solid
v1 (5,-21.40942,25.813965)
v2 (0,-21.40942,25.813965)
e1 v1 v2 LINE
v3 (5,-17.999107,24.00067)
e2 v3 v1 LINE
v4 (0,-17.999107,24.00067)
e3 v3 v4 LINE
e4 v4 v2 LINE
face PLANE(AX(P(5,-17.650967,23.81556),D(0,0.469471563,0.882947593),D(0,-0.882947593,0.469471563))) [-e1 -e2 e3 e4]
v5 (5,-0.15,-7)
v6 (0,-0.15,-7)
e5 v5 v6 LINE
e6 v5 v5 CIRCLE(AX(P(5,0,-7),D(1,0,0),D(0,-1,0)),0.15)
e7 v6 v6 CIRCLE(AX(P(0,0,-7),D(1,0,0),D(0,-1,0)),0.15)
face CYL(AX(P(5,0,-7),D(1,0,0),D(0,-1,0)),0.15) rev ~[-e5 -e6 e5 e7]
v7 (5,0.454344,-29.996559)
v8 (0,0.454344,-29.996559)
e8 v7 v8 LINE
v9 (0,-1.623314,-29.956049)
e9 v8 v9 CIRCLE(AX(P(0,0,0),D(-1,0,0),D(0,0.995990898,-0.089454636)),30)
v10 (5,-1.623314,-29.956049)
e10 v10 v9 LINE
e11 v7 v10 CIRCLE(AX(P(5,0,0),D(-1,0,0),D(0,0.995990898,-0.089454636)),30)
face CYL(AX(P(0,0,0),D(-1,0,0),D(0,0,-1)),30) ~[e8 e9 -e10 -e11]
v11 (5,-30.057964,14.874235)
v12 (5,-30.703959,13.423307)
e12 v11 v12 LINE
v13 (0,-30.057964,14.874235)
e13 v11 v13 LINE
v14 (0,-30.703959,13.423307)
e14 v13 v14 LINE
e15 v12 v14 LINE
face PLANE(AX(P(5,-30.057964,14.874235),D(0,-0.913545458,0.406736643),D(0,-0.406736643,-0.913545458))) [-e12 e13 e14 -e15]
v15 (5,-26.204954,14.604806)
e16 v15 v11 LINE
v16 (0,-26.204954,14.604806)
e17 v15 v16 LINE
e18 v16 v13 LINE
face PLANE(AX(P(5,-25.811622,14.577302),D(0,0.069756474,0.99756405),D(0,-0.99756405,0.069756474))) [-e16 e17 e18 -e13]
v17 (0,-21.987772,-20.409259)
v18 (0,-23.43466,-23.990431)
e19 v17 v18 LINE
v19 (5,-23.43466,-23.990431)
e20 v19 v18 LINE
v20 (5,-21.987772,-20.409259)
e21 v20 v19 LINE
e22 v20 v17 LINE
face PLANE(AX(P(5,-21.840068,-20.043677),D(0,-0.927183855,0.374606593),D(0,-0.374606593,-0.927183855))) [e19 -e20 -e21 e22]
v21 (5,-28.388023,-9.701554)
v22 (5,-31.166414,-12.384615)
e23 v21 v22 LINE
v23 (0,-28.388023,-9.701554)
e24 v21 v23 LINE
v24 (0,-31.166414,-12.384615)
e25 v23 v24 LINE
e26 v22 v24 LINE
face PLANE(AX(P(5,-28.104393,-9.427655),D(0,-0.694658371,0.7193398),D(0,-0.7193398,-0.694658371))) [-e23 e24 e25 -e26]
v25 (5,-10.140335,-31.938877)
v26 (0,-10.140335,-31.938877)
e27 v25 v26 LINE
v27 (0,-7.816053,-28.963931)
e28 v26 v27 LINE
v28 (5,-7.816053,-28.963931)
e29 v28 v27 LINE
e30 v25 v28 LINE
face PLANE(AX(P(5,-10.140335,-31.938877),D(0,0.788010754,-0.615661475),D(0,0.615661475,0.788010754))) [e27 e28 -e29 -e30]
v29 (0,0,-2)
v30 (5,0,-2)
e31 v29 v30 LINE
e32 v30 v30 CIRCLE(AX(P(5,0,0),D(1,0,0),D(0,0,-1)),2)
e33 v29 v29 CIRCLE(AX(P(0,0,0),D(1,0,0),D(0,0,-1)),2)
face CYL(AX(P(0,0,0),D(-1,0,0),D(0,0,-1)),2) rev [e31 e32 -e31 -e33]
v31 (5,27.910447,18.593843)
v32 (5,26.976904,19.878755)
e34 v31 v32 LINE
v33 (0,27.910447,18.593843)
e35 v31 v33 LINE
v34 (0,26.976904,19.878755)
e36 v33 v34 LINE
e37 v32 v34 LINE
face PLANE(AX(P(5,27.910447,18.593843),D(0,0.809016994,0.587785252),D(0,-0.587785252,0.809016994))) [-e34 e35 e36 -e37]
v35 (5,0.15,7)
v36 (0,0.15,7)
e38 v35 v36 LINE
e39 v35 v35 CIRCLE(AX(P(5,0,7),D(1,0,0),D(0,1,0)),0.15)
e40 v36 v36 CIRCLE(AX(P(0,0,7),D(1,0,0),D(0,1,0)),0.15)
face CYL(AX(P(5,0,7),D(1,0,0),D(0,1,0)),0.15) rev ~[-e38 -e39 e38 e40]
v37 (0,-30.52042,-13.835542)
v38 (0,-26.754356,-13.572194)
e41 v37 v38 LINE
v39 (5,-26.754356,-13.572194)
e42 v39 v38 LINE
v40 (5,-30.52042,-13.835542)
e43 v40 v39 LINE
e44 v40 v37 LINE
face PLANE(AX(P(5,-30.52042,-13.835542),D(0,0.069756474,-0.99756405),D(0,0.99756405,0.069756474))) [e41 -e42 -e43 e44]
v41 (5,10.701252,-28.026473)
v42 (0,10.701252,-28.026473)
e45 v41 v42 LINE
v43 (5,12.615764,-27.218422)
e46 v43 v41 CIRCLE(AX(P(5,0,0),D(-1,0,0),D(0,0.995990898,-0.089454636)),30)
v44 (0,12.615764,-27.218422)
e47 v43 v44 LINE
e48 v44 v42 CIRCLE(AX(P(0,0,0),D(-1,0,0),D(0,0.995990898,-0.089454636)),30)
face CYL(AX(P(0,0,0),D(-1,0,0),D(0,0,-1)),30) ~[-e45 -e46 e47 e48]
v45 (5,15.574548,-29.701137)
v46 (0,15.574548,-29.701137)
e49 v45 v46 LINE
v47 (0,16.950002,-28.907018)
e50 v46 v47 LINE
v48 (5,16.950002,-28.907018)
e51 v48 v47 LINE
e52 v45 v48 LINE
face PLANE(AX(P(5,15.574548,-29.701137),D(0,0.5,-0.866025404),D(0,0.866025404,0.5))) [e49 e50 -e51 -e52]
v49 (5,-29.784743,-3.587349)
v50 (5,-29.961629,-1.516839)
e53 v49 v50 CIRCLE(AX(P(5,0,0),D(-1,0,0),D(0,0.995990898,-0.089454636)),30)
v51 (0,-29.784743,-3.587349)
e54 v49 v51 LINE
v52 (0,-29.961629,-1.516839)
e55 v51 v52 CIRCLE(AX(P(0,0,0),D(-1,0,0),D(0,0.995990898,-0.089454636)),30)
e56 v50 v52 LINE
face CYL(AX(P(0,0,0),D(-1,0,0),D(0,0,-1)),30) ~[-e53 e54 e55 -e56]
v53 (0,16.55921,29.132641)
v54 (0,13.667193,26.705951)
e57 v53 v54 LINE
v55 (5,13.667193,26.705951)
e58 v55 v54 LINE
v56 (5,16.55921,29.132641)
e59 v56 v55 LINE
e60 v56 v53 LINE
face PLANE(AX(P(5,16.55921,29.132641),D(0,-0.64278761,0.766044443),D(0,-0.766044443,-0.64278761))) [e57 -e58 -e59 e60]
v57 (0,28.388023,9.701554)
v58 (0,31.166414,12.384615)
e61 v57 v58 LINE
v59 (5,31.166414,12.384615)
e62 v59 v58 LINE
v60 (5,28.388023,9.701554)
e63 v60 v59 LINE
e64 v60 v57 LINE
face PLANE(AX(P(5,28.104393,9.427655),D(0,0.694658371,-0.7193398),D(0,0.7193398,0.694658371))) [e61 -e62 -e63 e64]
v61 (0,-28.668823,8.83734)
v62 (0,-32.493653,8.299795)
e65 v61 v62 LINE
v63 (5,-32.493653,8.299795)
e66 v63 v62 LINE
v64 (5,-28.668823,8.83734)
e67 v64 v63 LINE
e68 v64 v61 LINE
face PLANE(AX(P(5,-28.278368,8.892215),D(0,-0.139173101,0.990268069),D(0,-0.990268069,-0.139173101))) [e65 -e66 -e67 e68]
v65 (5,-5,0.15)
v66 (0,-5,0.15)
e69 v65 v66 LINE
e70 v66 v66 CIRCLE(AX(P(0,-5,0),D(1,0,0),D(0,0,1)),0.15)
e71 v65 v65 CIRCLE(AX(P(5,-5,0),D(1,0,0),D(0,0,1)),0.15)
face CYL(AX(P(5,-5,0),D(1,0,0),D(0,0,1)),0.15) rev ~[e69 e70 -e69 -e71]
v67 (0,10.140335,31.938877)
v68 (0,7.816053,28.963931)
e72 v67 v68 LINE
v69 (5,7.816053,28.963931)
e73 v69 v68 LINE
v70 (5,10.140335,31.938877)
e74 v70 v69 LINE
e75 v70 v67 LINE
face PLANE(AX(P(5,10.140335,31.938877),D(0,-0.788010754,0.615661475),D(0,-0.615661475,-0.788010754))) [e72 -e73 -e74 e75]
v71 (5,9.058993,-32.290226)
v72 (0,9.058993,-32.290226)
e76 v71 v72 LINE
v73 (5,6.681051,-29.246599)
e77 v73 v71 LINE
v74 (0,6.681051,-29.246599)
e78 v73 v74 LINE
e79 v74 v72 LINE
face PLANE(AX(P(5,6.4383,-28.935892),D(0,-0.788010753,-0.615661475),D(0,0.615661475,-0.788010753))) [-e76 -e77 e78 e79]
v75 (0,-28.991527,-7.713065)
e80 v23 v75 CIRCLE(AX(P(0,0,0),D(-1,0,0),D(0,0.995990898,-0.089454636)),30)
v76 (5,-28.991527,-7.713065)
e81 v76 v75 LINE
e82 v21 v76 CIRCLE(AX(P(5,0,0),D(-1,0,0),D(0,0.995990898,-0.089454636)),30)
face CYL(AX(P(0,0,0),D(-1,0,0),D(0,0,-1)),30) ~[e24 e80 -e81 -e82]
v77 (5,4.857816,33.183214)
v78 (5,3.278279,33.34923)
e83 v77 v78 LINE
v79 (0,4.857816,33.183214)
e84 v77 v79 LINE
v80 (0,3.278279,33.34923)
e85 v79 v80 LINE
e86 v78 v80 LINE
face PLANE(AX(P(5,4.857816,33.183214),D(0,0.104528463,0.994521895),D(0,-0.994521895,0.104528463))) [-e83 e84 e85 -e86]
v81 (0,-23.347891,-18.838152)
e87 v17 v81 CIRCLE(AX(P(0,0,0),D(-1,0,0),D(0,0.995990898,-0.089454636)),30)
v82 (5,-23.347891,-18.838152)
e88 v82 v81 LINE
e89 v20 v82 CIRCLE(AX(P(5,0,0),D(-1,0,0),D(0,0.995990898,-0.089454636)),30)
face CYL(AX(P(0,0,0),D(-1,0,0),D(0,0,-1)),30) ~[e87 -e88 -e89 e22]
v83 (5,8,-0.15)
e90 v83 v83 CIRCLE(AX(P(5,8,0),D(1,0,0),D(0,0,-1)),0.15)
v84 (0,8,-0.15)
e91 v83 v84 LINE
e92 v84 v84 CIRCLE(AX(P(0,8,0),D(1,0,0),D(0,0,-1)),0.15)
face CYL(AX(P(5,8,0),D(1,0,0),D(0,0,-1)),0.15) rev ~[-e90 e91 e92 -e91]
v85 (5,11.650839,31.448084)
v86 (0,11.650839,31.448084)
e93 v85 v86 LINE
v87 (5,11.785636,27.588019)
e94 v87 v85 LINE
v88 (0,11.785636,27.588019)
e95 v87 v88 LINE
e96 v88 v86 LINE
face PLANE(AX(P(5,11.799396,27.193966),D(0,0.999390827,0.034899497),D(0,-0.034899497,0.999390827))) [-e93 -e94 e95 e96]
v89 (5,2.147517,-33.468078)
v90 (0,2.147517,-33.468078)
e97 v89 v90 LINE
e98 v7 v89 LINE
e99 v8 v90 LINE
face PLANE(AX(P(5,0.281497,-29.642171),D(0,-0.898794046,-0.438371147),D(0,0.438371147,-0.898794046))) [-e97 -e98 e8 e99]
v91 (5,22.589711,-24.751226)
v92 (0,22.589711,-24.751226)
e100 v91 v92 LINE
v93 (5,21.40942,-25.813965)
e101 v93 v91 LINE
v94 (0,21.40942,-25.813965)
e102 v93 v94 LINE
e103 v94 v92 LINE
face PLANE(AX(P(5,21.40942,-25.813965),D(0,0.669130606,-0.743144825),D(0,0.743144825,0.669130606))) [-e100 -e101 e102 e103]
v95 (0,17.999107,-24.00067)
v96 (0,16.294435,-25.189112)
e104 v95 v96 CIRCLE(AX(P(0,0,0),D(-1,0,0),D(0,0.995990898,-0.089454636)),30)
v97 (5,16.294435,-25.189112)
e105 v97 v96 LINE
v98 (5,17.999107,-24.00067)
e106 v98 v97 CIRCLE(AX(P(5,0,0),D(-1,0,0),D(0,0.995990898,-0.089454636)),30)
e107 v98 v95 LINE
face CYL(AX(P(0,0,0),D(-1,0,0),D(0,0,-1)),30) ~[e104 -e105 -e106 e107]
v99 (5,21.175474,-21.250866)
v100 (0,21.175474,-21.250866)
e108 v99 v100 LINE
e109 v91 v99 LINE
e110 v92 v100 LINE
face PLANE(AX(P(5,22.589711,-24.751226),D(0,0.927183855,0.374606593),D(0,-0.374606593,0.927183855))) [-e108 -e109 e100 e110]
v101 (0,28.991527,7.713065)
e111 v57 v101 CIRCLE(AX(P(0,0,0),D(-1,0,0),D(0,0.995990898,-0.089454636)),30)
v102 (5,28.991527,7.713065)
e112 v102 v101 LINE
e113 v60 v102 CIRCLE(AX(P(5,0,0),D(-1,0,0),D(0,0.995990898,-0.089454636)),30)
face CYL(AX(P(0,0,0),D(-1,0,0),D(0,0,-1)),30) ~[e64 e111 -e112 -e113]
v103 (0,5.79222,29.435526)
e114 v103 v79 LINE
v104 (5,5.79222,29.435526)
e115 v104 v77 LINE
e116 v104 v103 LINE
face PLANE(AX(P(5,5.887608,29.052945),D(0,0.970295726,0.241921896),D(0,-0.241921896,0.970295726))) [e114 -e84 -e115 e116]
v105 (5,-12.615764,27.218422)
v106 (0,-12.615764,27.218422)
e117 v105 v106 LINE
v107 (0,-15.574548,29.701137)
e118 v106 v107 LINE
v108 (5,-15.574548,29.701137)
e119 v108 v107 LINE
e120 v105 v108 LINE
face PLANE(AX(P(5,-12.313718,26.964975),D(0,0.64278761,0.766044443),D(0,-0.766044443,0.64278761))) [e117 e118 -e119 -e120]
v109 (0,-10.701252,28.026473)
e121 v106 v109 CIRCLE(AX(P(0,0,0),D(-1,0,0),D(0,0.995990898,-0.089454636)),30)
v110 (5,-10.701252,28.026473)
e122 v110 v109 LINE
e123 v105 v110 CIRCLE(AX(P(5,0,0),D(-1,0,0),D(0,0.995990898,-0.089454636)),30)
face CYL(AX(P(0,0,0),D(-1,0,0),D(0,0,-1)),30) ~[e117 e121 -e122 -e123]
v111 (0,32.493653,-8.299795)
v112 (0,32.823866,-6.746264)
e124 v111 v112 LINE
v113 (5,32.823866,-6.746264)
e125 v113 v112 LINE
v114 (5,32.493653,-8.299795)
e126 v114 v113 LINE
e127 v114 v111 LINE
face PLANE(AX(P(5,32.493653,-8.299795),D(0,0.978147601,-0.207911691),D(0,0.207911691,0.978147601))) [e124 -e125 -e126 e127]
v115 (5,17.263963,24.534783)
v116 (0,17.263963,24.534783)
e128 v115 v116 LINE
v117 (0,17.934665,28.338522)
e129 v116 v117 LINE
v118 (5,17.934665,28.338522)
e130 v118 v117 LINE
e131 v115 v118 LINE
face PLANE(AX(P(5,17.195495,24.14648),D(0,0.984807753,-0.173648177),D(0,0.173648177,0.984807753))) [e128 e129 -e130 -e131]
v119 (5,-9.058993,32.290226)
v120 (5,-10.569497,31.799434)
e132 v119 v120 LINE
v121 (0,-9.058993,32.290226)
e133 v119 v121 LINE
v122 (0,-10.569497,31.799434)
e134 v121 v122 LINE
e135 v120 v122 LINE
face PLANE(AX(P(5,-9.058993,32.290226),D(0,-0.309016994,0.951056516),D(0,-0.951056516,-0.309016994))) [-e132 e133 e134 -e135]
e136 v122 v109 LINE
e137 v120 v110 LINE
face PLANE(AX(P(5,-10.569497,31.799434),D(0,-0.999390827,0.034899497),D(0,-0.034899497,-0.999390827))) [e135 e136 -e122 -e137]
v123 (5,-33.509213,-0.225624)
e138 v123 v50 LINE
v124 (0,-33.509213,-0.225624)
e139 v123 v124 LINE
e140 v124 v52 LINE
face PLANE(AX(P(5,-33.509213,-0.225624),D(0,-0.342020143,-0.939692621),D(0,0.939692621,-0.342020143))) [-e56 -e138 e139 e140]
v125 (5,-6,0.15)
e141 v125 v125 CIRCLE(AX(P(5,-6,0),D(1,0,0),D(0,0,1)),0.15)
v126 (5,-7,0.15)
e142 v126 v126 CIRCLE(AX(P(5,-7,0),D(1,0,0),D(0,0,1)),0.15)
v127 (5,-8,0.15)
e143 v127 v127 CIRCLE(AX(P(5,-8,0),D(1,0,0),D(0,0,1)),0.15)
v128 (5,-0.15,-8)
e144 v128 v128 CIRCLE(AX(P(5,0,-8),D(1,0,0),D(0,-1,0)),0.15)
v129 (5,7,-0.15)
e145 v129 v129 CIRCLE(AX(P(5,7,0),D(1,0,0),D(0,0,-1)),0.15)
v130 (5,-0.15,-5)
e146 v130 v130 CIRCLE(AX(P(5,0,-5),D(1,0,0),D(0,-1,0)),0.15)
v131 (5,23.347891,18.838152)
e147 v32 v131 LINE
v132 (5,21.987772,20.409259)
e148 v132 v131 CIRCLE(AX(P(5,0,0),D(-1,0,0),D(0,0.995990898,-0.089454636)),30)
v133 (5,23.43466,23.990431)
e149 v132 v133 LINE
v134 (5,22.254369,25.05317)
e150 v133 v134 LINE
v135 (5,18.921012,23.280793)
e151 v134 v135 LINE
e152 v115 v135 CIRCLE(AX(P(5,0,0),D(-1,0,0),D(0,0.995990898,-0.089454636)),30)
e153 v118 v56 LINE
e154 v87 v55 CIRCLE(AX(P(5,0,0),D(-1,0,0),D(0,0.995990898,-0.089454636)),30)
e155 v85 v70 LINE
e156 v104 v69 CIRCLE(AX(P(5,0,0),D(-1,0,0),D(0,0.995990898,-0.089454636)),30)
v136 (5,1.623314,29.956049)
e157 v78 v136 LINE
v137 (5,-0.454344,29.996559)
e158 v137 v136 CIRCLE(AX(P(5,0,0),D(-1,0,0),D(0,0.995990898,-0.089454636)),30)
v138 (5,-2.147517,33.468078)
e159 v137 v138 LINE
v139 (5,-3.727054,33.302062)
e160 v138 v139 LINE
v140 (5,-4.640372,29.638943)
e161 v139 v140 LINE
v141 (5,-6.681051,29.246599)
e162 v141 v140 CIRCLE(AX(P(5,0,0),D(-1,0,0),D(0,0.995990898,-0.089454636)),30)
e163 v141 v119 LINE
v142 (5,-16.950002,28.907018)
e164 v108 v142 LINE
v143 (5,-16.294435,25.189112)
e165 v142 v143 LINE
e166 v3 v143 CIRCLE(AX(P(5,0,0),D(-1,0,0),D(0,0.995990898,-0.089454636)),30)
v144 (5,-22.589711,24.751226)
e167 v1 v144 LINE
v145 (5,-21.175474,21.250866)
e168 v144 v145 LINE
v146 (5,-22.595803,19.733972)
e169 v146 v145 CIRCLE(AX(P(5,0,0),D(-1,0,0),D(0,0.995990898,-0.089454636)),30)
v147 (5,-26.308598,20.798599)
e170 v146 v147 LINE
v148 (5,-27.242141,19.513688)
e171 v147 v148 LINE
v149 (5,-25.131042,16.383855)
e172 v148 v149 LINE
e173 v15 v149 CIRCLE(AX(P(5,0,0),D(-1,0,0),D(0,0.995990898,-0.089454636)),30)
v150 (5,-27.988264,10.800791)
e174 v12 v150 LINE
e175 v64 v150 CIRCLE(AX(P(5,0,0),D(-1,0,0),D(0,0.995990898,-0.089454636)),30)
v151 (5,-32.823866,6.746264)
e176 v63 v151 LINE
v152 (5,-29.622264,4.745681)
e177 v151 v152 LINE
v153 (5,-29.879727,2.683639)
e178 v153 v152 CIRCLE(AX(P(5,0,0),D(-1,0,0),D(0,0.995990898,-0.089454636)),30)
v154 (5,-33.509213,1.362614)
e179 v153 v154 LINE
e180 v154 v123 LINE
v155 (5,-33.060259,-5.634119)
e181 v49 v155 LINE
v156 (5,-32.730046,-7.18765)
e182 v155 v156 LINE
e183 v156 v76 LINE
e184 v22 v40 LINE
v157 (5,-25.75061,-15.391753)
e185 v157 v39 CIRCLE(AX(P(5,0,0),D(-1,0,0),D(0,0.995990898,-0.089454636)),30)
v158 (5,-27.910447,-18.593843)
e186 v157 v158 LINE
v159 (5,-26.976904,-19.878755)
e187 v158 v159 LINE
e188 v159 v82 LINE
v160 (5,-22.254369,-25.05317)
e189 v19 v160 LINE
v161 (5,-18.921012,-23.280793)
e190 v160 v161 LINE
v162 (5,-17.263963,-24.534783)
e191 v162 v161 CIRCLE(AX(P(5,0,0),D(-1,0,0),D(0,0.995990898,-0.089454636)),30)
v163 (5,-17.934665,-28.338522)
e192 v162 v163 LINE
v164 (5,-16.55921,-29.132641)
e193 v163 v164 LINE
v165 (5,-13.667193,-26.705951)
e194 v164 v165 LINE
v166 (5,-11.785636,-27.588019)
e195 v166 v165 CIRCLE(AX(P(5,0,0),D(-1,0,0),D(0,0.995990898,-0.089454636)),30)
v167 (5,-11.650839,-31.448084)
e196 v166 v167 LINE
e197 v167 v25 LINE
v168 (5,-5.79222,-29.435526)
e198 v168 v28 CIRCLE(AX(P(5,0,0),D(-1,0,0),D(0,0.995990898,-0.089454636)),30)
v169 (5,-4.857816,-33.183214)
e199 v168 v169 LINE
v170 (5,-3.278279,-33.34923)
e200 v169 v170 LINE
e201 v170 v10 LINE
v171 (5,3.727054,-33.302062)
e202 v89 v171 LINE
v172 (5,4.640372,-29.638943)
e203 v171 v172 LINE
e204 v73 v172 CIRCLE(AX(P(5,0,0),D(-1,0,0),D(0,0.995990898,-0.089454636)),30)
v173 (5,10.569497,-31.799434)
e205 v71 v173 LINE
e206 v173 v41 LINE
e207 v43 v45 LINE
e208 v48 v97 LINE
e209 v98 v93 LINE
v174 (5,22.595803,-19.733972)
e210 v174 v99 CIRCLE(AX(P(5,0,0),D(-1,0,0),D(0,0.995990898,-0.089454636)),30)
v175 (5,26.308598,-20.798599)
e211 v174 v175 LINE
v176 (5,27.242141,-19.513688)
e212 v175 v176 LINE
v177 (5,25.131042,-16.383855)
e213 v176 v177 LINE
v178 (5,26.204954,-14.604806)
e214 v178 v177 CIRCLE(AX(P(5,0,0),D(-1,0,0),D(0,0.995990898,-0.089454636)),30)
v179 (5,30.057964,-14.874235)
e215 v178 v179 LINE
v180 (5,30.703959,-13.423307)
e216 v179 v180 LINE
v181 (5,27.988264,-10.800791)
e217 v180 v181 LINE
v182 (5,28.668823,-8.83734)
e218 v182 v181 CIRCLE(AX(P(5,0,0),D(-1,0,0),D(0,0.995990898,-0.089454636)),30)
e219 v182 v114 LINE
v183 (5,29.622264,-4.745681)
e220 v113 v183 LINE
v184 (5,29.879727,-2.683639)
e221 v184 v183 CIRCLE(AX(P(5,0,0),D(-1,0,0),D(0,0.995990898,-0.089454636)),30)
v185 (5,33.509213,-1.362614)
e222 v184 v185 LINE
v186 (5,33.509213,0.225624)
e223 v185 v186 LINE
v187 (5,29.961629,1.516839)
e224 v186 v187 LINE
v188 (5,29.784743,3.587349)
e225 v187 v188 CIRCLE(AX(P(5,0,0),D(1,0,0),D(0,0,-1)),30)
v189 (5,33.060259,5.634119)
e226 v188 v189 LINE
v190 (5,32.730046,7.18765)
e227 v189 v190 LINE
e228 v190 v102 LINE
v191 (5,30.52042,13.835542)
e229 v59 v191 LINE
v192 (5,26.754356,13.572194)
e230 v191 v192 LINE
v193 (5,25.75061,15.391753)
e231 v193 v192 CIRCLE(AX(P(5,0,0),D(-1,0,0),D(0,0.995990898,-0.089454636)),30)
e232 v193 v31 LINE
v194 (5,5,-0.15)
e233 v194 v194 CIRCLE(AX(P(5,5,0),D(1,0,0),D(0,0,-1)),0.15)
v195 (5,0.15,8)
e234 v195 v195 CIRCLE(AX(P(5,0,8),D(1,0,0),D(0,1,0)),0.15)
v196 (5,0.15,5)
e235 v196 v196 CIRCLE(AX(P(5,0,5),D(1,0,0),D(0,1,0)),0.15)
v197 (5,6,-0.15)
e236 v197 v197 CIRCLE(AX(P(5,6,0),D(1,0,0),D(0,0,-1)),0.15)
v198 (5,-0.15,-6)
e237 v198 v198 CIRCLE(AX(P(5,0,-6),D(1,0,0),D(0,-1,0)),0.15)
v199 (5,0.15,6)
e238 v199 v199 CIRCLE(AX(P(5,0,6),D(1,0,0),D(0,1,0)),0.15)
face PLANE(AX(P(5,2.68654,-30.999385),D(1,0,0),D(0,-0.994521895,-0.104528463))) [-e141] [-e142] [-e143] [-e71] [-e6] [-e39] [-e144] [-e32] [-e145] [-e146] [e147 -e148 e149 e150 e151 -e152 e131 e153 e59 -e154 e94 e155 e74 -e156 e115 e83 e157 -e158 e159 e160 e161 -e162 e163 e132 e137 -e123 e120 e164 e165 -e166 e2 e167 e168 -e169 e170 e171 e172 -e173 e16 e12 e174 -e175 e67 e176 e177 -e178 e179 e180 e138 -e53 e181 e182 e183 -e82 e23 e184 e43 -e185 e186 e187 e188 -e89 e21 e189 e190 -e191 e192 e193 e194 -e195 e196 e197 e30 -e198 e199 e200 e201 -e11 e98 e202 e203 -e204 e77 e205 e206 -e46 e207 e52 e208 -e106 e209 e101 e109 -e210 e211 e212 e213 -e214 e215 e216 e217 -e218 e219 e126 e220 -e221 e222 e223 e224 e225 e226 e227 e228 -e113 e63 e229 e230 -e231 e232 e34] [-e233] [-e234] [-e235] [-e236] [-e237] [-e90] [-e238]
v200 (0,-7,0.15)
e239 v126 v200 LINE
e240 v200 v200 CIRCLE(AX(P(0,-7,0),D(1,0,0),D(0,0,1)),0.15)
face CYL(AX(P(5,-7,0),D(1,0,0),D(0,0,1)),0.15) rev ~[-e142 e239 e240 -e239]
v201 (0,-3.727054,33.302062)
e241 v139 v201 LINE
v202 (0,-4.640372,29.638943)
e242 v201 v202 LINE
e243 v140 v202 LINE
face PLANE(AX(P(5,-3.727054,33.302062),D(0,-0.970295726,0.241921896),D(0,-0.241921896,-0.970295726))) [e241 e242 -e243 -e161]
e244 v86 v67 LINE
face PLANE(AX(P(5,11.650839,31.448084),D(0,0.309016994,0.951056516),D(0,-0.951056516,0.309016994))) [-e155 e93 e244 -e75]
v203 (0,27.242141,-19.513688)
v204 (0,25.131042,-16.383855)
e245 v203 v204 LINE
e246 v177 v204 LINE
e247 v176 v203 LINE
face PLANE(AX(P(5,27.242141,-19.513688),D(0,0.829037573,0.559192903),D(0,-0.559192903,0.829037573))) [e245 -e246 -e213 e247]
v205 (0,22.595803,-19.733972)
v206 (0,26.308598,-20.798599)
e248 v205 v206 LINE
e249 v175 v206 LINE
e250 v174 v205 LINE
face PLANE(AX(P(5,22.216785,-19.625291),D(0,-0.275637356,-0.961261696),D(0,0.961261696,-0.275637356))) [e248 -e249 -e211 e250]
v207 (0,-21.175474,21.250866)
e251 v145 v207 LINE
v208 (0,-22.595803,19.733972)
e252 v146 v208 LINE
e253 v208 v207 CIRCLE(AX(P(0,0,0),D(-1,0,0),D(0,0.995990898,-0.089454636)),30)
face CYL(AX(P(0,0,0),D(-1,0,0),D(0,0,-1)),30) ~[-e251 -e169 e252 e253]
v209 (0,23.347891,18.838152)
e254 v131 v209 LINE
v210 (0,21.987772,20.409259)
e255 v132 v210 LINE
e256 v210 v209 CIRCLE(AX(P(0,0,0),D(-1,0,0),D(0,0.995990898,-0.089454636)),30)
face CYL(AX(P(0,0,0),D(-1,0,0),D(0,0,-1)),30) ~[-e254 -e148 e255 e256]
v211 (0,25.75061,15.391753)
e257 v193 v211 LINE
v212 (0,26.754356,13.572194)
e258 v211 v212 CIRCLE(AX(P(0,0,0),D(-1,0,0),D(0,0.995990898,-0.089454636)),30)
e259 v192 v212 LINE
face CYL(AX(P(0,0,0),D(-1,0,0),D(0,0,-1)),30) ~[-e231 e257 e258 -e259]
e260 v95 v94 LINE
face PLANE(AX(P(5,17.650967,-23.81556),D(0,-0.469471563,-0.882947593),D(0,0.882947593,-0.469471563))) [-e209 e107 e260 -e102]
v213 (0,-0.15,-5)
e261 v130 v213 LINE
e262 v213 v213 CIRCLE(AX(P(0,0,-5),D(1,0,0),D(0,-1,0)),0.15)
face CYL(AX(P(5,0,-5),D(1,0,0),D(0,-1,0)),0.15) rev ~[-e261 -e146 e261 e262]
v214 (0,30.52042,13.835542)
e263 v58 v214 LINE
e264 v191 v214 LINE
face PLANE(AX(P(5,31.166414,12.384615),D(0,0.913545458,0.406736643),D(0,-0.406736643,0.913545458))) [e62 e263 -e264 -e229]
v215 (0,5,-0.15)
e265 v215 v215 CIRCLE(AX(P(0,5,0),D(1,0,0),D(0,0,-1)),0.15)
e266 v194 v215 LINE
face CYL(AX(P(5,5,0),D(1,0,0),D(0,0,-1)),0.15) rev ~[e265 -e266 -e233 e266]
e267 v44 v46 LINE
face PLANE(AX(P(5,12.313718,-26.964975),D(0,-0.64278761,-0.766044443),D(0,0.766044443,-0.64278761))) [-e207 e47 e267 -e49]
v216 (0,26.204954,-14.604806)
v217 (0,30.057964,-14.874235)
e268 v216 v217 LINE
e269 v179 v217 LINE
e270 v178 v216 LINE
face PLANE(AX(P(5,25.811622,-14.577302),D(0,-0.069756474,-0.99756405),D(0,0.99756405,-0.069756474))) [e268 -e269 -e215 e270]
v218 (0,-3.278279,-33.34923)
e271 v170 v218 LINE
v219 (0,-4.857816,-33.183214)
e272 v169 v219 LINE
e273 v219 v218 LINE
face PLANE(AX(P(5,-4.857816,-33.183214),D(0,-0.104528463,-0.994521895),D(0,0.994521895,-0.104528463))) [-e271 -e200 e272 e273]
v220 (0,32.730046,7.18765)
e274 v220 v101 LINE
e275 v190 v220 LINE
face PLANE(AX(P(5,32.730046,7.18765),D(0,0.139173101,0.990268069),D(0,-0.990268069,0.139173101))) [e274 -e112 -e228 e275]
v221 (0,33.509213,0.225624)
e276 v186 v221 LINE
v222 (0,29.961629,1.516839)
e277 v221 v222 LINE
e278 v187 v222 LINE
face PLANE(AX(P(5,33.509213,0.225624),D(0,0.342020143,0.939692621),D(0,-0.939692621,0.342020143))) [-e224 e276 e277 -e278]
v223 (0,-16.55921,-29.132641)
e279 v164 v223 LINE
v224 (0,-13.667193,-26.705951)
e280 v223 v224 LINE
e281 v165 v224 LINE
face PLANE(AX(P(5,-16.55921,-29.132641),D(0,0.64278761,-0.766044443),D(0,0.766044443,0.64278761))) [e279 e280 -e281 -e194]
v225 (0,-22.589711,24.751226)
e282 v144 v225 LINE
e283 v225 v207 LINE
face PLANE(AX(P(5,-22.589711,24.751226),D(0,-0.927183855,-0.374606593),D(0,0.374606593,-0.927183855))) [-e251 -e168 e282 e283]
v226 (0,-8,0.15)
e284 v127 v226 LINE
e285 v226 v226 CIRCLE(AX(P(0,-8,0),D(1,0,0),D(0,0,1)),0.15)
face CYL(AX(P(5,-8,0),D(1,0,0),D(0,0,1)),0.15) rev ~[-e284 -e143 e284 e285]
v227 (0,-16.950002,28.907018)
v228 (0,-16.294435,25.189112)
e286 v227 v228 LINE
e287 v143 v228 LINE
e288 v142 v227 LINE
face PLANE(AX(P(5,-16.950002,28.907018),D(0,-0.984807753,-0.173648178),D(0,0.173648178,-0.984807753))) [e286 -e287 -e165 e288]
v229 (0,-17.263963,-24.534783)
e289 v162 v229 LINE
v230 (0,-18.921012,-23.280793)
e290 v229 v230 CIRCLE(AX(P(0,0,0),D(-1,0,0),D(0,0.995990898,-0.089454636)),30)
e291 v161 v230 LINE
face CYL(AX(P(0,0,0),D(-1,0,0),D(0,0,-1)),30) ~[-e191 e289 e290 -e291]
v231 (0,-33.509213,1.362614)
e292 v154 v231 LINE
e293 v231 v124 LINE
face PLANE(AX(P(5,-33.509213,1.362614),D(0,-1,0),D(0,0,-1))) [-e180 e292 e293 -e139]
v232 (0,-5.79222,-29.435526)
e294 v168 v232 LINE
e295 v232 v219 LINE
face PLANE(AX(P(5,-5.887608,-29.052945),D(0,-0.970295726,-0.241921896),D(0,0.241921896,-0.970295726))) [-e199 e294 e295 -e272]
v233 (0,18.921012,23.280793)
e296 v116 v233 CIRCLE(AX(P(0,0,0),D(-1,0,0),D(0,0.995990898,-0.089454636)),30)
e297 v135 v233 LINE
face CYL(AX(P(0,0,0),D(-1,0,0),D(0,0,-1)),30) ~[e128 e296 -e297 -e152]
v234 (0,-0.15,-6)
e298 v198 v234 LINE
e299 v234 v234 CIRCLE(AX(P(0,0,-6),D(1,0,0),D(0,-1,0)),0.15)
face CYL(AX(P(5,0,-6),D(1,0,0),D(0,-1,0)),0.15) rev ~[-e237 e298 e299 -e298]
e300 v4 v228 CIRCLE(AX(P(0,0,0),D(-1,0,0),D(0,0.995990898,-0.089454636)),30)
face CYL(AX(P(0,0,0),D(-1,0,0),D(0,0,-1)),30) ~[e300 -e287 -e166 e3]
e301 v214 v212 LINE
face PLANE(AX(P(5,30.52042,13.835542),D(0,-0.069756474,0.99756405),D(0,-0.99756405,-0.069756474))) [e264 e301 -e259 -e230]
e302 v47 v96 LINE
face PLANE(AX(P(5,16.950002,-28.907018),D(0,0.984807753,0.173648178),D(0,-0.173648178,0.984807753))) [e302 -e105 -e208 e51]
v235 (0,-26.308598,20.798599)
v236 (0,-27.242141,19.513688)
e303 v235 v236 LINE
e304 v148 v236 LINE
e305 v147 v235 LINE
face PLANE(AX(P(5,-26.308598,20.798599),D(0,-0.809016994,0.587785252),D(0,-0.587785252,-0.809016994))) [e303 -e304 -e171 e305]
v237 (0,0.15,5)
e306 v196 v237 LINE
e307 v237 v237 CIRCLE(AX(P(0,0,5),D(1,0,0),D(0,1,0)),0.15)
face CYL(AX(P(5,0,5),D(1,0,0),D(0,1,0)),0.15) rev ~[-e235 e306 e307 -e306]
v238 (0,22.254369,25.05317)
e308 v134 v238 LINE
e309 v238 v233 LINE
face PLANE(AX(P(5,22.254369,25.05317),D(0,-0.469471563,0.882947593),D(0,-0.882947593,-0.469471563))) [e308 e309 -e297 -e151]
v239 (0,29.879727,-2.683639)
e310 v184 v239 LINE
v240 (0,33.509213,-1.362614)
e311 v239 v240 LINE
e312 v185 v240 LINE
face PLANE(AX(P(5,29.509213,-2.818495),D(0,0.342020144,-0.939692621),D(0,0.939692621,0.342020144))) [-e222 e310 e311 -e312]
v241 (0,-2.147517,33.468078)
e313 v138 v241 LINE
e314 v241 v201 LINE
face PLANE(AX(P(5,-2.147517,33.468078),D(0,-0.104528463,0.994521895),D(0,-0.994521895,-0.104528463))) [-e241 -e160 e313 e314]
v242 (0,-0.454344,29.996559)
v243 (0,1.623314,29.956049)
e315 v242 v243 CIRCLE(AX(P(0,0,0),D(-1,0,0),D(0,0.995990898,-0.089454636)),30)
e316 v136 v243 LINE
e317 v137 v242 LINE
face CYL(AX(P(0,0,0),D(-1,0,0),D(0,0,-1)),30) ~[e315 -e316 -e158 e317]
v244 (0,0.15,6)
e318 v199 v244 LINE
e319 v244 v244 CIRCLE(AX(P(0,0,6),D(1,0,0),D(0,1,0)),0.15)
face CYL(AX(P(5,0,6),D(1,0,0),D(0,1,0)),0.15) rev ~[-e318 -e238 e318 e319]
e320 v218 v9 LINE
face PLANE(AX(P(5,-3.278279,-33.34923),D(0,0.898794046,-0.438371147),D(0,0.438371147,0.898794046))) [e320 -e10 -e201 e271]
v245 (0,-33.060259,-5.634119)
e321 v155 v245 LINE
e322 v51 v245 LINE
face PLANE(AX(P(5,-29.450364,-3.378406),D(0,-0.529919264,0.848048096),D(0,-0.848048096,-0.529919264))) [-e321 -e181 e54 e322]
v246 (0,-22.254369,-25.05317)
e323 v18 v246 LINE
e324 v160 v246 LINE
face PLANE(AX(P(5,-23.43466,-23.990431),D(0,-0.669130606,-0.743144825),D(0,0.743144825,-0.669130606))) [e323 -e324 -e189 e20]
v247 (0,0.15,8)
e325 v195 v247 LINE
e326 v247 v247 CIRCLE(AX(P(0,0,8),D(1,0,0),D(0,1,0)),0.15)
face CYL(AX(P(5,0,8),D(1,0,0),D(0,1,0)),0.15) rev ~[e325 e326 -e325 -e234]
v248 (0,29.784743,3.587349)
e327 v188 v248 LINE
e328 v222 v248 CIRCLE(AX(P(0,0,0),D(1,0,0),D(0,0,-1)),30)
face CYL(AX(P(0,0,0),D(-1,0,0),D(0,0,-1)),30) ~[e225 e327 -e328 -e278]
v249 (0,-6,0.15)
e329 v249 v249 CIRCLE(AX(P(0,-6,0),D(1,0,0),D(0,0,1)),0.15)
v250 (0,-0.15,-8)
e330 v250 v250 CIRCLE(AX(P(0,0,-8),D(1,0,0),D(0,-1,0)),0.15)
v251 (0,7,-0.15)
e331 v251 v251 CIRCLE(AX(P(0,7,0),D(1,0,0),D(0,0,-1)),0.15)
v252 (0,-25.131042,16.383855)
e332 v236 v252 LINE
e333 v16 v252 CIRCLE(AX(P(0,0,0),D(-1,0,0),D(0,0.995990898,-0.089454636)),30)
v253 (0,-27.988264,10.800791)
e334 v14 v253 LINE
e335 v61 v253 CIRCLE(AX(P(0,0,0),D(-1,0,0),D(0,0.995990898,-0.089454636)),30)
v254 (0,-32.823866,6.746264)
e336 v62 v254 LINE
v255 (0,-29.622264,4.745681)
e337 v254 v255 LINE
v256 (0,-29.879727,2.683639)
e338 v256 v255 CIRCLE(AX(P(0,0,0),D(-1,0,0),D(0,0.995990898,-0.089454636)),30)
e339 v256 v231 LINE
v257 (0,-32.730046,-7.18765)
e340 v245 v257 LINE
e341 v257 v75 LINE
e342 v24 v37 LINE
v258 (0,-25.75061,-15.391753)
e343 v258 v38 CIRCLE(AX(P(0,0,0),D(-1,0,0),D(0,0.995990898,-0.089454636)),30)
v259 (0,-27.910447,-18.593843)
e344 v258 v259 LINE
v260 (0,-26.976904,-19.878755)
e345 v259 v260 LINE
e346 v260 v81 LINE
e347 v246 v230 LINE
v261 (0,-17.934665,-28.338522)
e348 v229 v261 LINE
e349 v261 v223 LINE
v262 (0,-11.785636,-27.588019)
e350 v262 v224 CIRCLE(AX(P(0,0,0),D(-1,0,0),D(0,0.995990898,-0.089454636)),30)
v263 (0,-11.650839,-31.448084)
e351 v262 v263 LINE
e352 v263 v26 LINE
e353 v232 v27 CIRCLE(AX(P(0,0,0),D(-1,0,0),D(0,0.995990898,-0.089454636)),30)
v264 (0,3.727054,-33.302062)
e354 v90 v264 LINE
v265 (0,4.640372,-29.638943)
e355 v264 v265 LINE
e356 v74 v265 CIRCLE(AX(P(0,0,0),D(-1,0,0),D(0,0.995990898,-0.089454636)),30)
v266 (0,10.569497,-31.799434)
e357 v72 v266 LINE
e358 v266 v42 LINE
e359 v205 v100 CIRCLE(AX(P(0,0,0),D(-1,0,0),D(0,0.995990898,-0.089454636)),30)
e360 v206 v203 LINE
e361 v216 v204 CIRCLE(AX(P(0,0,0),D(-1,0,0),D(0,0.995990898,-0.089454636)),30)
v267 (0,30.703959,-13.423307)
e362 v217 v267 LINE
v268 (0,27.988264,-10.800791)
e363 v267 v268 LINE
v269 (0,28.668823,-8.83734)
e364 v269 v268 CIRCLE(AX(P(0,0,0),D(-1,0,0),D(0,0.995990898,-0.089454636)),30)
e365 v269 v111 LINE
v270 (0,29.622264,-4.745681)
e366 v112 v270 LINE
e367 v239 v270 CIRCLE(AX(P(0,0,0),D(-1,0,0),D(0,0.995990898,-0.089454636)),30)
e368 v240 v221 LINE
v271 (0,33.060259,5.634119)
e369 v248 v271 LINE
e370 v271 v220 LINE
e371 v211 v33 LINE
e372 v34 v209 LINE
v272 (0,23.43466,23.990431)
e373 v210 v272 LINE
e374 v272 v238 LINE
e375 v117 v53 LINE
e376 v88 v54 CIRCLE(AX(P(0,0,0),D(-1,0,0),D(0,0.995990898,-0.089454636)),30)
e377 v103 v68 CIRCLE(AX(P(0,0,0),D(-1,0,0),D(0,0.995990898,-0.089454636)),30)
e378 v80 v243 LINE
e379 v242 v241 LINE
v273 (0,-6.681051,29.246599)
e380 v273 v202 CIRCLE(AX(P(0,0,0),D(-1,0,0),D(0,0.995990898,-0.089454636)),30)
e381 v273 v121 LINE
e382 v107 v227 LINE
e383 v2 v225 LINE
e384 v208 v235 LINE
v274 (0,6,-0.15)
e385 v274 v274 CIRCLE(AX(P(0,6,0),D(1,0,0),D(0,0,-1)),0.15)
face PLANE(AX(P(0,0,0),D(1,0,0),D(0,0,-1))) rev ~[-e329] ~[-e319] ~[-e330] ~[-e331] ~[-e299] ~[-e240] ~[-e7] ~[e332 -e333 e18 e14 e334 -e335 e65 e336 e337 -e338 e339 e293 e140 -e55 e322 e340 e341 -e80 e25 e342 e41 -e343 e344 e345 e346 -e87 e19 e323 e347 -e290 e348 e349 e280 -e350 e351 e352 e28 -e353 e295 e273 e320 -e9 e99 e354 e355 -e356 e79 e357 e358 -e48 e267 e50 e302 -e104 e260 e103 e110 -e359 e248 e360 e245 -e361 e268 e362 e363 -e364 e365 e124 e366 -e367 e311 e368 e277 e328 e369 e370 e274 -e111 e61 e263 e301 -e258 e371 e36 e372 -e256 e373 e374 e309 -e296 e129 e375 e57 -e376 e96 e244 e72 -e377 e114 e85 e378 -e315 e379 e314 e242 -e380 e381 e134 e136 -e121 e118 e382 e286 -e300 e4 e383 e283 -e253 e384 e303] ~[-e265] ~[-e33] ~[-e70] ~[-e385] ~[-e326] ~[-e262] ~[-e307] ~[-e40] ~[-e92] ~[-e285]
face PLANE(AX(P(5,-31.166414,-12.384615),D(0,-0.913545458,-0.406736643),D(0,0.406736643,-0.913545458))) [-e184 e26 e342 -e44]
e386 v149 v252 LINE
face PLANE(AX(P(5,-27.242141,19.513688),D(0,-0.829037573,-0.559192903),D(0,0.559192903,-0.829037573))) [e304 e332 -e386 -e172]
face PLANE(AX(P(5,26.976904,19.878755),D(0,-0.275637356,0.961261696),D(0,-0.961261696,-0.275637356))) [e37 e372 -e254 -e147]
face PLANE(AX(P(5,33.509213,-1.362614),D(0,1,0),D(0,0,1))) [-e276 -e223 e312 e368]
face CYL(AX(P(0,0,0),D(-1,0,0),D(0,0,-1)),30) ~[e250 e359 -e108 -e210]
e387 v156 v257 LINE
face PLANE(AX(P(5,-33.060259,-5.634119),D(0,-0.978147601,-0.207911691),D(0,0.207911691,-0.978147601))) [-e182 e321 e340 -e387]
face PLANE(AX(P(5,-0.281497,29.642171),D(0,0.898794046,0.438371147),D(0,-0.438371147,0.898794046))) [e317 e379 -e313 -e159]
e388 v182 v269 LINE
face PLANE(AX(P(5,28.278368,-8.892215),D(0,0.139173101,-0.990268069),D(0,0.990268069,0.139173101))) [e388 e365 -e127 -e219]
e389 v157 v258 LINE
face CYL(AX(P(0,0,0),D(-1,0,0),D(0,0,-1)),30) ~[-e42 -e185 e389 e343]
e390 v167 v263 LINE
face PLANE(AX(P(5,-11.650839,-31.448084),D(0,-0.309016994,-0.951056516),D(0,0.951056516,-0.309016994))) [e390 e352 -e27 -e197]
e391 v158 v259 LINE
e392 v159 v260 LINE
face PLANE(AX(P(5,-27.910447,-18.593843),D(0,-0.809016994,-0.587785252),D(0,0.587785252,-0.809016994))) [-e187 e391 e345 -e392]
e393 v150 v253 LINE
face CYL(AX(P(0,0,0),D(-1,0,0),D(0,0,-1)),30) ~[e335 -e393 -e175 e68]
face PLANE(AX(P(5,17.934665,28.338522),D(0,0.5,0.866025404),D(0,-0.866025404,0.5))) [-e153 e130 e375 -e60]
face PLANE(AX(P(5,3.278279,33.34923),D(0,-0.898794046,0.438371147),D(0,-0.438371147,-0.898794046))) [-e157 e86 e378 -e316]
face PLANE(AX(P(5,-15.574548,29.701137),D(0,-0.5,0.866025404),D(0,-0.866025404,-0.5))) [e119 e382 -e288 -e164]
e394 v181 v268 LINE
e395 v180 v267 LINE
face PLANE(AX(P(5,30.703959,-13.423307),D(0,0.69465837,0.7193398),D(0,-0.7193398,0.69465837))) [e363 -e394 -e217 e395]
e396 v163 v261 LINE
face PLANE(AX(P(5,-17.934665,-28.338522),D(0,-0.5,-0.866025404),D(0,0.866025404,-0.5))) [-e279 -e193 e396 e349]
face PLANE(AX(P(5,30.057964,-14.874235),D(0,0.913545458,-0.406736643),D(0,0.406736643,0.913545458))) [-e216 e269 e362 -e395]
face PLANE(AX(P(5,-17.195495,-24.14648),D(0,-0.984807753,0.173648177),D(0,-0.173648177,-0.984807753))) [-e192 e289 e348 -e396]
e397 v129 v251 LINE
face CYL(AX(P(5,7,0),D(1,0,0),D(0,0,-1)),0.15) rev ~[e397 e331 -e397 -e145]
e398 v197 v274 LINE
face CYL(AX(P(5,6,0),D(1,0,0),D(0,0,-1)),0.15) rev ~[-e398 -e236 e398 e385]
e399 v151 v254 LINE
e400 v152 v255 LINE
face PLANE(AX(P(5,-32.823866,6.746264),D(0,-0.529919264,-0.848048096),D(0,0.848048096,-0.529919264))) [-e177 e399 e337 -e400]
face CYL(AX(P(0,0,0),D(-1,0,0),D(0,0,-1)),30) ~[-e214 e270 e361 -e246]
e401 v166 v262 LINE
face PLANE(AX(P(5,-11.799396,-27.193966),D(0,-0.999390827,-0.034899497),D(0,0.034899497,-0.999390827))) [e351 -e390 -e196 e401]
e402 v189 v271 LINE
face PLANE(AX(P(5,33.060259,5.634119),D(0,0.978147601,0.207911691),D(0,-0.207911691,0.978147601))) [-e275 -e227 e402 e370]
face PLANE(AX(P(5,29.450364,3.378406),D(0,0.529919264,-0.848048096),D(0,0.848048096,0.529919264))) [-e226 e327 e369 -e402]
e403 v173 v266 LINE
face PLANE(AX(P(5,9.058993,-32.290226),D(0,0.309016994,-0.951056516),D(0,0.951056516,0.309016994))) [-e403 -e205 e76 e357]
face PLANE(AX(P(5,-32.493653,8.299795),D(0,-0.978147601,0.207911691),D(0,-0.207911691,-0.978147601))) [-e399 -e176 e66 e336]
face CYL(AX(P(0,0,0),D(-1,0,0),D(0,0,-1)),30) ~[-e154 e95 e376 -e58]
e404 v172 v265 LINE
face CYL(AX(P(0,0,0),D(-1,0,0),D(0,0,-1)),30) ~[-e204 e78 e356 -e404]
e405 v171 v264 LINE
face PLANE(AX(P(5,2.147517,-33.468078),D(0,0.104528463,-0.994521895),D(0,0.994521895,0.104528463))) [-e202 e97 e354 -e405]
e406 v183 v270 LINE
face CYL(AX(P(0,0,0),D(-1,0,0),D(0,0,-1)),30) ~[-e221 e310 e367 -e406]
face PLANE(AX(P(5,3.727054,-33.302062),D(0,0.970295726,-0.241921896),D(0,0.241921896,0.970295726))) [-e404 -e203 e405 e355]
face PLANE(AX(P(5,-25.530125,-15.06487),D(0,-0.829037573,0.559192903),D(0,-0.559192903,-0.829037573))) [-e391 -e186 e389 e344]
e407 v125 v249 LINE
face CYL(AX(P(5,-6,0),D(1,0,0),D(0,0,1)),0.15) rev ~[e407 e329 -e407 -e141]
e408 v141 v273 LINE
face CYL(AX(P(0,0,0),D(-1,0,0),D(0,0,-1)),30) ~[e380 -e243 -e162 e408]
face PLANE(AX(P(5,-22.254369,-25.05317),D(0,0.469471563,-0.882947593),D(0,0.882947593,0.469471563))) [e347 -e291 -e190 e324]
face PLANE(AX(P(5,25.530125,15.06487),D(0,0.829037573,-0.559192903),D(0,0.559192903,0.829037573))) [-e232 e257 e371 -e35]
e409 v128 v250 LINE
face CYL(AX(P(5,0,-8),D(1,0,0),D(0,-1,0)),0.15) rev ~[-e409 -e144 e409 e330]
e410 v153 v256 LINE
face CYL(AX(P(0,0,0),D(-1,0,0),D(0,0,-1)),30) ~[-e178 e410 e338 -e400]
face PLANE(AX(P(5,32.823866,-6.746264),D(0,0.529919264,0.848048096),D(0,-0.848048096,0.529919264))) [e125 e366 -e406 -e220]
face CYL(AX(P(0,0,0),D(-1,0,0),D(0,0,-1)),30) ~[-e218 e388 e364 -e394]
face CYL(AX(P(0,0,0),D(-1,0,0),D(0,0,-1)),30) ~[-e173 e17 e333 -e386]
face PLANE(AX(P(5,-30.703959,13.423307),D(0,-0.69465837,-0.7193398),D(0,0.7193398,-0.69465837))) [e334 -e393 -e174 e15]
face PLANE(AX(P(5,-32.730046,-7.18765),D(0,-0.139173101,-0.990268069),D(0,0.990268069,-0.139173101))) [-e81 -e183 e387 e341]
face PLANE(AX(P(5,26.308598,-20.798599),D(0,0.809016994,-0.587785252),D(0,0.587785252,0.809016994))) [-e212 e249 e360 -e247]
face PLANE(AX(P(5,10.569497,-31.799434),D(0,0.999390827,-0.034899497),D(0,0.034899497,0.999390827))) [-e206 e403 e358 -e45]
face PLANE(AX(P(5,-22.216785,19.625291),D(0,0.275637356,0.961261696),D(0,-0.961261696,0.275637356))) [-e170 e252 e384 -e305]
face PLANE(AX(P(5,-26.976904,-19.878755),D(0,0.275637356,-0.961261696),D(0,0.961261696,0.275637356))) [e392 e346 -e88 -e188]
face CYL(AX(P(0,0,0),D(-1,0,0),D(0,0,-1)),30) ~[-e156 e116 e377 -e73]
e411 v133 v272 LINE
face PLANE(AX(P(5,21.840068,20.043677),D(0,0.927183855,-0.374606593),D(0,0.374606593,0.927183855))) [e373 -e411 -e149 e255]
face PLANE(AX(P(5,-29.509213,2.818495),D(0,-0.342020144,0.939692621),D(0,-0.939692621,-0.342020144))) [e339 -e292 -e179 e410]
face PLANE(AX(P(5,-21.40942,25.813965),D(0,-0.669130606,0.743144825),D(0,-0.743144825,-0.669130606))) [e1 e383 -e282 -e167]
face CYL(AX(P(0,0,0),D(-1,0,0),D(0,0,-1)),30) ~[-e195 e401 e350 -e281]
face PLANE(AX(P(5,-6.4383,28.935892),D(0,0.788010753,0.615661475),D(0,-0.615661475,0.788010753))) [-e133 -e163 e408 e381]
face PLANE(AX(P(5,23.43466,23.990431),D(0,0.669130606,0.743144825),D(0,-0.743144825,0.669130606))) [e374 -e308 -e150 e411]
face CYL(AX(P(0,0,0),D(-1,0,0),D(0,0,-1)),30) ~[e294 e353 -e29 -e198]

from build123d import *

# Parameters (mm, degrees)
SKETCH1_R                   = 30
SKETCH1_R_2                 = 2
BOSS_EXTRUDE2_DEPTH         = 5
SKETCH2_R                   = 0.15
CUT_EXTRUDE1_DEPTH          = 43.720018727
LPATTERN1_COUNT             = 4
LPATTERN1_PITCH             = 1
CIRPATTERN1_COUNT           = 4
CIRPATTERN1_COPY_1_SKETCH_R = 0.15
CIRPATTERN1_COPY_1_DEPTH    = 43.720018727
CIRPATTERN1_COPY_2_SKETCH_R = 0.15
CIRPATTERN1_COPY_2_DEPTH    = 43.720018727
CIRPATTERN1_COPY_3_SKETCH_R = 0.15
CIRPATTERN1_COPY_3_DEPTH    = 43.720018727
CIRPATTERN1_COPY_4_SKETCH_R = 0.15
CIRPATTERN1_COPY_4_DEPTH    = 43.720018727
CIRPATTERN1_COPY_5_SKETCH_R = 0.15
CIRPATTERN1_COPY_5_DEPTH    = 43.720018727
CIRPATTERN1_COPY_6_SKETCH_R = 0.15
CIRPATTERN1_COPY_6_DEPTH    = 43.720018727
CIRPATTERN1_COPY_7_SKETCH_R = 0.15
CIRPATTERN1_COPY_7_DEPTH    = 43.720018727
CIRPATTERN1_COPY_8_SKETCH_R = 0.15
CIRPATTERN1_COPY_8_DEPTH    = 43.720018727
CIRPATTERN1_COPY_9_SKETCH_R = 0.15
CIRPATTERN1_COPY_9_DEPTH    = 43.720018727
BOSS_EXTRUDE3_DEPTH         = 5
CIRPATTERN2_COUNT           = 30


with BuildPart() as part:
    # Sketch1 → Boss-Extrude2 (new body)
    with BuildSketch(Plane(origin=(0, 0, 0), x_dir=(0, 0, -1), z_dir=(1, 0, 0))):
        Circle(SKETCH1_R)
        Circle(SKETCH1_R_2, mode=Mode.SUBTRACT)
    extrude(amount=BOSS_EXTRUDE2_DEPTH)

    # Sketch2 → Cut-Extrude1 (cut, through all)
    with BuildSketch(Plane(origin=(5, 0, 0), x_dir=(0, 0, -1), z_dir=(1, 0, 0))):
        with Locations((0, 5)):
            Circle(SKETCH2_R)
    cut_extrude1 = extrude(amount=-CUT_EXTRUDE1_DEPTH, mode=Mode.SUBTRACT)

    # LPattern1: Cut-Extrude1 ×4
    with Locations(*[(0, i * LPATTERN1_PITCH, 0) for i in range(1, LPATTERN1_COUNT)]):
        add(cut_extrude1, mode=Mode.SUBTRACT)

    # CirPattern1: Cut-Extrude1 ×4 about axis
    cirpattern1_axis = Axis((0, 0, 0), (1, 0, 0))
    for i in range(1, CIRPATTERN1_COUNT):
        add(cut_extrude1.rotate(cirpattern1_axis, i * 360 / CIRPATTERN1_COUNT), mode=Mode.SUBTRACT)

    # CirPattern1 copy 1 sketch → CirPattern1 copy 1 (cut, through all)
    with BuildSketch(Plane(origin=(5, 0, 1), x_dir=(0, 1, 0), z_dir=(1, 0, 0))):
        with Locations((0, 5)):
            Circle(CIRPATTERN1_COPY_1_SKETCH_R)
    extrude(amount=-CIRPATTERN1_COPY_1_DEPTH, mode=Mode.SUBTRACT)

    # CirPattern1 copy 2 sketch → CirPattern1 copy 2 (cut, through all)
    with BuildSketch(Plane(origin=(5, -1, 0), x_dir=(0, 0, 1), z_dir=(1, 0, 0))):
        with Locations((0, 5)):
            Circle(CIRPATTERN1_COPY_2_SKETCH_R)
    extrude(amount=-CIRPATTERN1_COPY_2_DEPTH, mode=Mode.SUBTRACT)

    # CirPattern1 copy 3 sketch → CirPattern1 copy 3 (cut, through all)
    with BuildSketch(Plane(origin=(5, 0, -1), x_dir=(0, -1, 0), z_dir=(1, 0, 0))):
        with Locations((0, 5)):
            Circle(CIRPATTERN1_COPY_3_SKETCH_R)
    extrude(amount=-CIRPATTERN1_COPY_3_DEPTH, mode=Mode.SUBTRACT)

    # CirPattern1 copy 4 sketch → CirPattern1 copy 4 (cut, through all)
    with BuildSketch(Plane(origin=(5, 0, 2), x_dir=(0, 1, 0), z_dir=(1, 0, 0))):
        with Locations((0, 5)):
            Circle(CIRPATTERN1_COPY_4_SKETCH_R)
    extrude(amount=-CIRPATTERN1_COPY_4_DEPTH, mode=Mode.SUBTRACT)

    # CirPattern1 copy 5 sketch → CirPattern1 copy 5 (cut, through all)
    with BuildSketch(Plane(origin=(5, -2, 0), x_dir=(0, 0, 1), z_dir=(1, 0, 0))):
        with Locations((0, 5)):
            Circle(CIRPATTERN1_COPY_5_SKETCH_R)
    extrude(amount=-CIRPATTERN1_COPY_5_DEPTH, mode=Mode.SUBTRACT)

    # CirPattern1 copy 6 sketch → CirPattern1 copy 6 (cut, through all)
    with BuildSketch(Plane(origin=(5, 0, -2), x_dir=(0, -1, 0), z_dir=(1, 0, 0))):
        with Locations((0, 5)):
            Circle(CIRPATTERN1_COPY_6_SKETCH_R)
    extrude(amount=-CIRPATTERN1_COPY_6_DEPTH, mode=Mode.SUBTRACT)

    # CirPattern1 copy 7 sketch → CirPattern1 copy 7 (cut, through all)
    with BuildSketch(Plane(origin=(5, 0, 3), x_dir=(0, 1, 0), z_dir=(1, 0, 0))):
        with Locations((0, 5)):
            Circle(CIRPATTERN1_COPY_7_SKETCH_R)
    extrude(amount=-CIRPATTERN1_COPY_7_DEPTH, mode=Mode.SUBTRACT)

    # CirPattern1 copy 8 sketch → CirPattern1 copy 8 (cut, through all)
    with BuildSketch(Plane(origin=(5, -3, 0), x_dir=(0, 0, 1), z_dir=(1, 0, 0))):
        with Locations((0, 5)):
            Circle(CIRPATTERN1_COPY_8_SKETCH_R)
    extrude(amount=-CIRPATTERN1_COPY_8_DEPTH, mode=Mode.SUBTRACT)

    # CirPattern1 copy 9 sketch → CirPattern1 copy 9 (cut, through all)
    with BuildSketch(Plane(origin=(5, 0, -3), x_dir=(0, -1, 0), z_dir=(1, 0, 0))):
        with Locations((0, 5)):
            Circle(CIRPATTERN1_COPY_9_SKETCH_R)
    extrude(amount=-CIRPATTERN1_COPY_9_DEPTH, mode=Mode.SUBTRACT)

    # Sketch7 → Boss-Extrude3 (add)
    with BuildSketch(Plane(origin=(5, 0, 0), x_dir=(0, 0, -1), z_dir=(1, 0, 0))):
        Polygon((-1.681504774, 29.509212722), (2.818495226, 29.509212722), (1.362614288, 33.509212722), (-0.225623837, 33.509212722), align=None)
    boss_extrude3 = extrude(amount=-BOSS_EXTRUDE3_DEPTH)

    # CirPattern2: Boss-Extrude3 ×30 about axis
    cirpattern2_axis = Axis((0, 0, 0), (1, 0, 0))
    for i in range(1, CIRPATTERN2_COUNT):
        add(boss_extrude3.rotate(cirpattern2_axis, i * 360 / CIRPATTERN2_COUNT))


solid = part.part
